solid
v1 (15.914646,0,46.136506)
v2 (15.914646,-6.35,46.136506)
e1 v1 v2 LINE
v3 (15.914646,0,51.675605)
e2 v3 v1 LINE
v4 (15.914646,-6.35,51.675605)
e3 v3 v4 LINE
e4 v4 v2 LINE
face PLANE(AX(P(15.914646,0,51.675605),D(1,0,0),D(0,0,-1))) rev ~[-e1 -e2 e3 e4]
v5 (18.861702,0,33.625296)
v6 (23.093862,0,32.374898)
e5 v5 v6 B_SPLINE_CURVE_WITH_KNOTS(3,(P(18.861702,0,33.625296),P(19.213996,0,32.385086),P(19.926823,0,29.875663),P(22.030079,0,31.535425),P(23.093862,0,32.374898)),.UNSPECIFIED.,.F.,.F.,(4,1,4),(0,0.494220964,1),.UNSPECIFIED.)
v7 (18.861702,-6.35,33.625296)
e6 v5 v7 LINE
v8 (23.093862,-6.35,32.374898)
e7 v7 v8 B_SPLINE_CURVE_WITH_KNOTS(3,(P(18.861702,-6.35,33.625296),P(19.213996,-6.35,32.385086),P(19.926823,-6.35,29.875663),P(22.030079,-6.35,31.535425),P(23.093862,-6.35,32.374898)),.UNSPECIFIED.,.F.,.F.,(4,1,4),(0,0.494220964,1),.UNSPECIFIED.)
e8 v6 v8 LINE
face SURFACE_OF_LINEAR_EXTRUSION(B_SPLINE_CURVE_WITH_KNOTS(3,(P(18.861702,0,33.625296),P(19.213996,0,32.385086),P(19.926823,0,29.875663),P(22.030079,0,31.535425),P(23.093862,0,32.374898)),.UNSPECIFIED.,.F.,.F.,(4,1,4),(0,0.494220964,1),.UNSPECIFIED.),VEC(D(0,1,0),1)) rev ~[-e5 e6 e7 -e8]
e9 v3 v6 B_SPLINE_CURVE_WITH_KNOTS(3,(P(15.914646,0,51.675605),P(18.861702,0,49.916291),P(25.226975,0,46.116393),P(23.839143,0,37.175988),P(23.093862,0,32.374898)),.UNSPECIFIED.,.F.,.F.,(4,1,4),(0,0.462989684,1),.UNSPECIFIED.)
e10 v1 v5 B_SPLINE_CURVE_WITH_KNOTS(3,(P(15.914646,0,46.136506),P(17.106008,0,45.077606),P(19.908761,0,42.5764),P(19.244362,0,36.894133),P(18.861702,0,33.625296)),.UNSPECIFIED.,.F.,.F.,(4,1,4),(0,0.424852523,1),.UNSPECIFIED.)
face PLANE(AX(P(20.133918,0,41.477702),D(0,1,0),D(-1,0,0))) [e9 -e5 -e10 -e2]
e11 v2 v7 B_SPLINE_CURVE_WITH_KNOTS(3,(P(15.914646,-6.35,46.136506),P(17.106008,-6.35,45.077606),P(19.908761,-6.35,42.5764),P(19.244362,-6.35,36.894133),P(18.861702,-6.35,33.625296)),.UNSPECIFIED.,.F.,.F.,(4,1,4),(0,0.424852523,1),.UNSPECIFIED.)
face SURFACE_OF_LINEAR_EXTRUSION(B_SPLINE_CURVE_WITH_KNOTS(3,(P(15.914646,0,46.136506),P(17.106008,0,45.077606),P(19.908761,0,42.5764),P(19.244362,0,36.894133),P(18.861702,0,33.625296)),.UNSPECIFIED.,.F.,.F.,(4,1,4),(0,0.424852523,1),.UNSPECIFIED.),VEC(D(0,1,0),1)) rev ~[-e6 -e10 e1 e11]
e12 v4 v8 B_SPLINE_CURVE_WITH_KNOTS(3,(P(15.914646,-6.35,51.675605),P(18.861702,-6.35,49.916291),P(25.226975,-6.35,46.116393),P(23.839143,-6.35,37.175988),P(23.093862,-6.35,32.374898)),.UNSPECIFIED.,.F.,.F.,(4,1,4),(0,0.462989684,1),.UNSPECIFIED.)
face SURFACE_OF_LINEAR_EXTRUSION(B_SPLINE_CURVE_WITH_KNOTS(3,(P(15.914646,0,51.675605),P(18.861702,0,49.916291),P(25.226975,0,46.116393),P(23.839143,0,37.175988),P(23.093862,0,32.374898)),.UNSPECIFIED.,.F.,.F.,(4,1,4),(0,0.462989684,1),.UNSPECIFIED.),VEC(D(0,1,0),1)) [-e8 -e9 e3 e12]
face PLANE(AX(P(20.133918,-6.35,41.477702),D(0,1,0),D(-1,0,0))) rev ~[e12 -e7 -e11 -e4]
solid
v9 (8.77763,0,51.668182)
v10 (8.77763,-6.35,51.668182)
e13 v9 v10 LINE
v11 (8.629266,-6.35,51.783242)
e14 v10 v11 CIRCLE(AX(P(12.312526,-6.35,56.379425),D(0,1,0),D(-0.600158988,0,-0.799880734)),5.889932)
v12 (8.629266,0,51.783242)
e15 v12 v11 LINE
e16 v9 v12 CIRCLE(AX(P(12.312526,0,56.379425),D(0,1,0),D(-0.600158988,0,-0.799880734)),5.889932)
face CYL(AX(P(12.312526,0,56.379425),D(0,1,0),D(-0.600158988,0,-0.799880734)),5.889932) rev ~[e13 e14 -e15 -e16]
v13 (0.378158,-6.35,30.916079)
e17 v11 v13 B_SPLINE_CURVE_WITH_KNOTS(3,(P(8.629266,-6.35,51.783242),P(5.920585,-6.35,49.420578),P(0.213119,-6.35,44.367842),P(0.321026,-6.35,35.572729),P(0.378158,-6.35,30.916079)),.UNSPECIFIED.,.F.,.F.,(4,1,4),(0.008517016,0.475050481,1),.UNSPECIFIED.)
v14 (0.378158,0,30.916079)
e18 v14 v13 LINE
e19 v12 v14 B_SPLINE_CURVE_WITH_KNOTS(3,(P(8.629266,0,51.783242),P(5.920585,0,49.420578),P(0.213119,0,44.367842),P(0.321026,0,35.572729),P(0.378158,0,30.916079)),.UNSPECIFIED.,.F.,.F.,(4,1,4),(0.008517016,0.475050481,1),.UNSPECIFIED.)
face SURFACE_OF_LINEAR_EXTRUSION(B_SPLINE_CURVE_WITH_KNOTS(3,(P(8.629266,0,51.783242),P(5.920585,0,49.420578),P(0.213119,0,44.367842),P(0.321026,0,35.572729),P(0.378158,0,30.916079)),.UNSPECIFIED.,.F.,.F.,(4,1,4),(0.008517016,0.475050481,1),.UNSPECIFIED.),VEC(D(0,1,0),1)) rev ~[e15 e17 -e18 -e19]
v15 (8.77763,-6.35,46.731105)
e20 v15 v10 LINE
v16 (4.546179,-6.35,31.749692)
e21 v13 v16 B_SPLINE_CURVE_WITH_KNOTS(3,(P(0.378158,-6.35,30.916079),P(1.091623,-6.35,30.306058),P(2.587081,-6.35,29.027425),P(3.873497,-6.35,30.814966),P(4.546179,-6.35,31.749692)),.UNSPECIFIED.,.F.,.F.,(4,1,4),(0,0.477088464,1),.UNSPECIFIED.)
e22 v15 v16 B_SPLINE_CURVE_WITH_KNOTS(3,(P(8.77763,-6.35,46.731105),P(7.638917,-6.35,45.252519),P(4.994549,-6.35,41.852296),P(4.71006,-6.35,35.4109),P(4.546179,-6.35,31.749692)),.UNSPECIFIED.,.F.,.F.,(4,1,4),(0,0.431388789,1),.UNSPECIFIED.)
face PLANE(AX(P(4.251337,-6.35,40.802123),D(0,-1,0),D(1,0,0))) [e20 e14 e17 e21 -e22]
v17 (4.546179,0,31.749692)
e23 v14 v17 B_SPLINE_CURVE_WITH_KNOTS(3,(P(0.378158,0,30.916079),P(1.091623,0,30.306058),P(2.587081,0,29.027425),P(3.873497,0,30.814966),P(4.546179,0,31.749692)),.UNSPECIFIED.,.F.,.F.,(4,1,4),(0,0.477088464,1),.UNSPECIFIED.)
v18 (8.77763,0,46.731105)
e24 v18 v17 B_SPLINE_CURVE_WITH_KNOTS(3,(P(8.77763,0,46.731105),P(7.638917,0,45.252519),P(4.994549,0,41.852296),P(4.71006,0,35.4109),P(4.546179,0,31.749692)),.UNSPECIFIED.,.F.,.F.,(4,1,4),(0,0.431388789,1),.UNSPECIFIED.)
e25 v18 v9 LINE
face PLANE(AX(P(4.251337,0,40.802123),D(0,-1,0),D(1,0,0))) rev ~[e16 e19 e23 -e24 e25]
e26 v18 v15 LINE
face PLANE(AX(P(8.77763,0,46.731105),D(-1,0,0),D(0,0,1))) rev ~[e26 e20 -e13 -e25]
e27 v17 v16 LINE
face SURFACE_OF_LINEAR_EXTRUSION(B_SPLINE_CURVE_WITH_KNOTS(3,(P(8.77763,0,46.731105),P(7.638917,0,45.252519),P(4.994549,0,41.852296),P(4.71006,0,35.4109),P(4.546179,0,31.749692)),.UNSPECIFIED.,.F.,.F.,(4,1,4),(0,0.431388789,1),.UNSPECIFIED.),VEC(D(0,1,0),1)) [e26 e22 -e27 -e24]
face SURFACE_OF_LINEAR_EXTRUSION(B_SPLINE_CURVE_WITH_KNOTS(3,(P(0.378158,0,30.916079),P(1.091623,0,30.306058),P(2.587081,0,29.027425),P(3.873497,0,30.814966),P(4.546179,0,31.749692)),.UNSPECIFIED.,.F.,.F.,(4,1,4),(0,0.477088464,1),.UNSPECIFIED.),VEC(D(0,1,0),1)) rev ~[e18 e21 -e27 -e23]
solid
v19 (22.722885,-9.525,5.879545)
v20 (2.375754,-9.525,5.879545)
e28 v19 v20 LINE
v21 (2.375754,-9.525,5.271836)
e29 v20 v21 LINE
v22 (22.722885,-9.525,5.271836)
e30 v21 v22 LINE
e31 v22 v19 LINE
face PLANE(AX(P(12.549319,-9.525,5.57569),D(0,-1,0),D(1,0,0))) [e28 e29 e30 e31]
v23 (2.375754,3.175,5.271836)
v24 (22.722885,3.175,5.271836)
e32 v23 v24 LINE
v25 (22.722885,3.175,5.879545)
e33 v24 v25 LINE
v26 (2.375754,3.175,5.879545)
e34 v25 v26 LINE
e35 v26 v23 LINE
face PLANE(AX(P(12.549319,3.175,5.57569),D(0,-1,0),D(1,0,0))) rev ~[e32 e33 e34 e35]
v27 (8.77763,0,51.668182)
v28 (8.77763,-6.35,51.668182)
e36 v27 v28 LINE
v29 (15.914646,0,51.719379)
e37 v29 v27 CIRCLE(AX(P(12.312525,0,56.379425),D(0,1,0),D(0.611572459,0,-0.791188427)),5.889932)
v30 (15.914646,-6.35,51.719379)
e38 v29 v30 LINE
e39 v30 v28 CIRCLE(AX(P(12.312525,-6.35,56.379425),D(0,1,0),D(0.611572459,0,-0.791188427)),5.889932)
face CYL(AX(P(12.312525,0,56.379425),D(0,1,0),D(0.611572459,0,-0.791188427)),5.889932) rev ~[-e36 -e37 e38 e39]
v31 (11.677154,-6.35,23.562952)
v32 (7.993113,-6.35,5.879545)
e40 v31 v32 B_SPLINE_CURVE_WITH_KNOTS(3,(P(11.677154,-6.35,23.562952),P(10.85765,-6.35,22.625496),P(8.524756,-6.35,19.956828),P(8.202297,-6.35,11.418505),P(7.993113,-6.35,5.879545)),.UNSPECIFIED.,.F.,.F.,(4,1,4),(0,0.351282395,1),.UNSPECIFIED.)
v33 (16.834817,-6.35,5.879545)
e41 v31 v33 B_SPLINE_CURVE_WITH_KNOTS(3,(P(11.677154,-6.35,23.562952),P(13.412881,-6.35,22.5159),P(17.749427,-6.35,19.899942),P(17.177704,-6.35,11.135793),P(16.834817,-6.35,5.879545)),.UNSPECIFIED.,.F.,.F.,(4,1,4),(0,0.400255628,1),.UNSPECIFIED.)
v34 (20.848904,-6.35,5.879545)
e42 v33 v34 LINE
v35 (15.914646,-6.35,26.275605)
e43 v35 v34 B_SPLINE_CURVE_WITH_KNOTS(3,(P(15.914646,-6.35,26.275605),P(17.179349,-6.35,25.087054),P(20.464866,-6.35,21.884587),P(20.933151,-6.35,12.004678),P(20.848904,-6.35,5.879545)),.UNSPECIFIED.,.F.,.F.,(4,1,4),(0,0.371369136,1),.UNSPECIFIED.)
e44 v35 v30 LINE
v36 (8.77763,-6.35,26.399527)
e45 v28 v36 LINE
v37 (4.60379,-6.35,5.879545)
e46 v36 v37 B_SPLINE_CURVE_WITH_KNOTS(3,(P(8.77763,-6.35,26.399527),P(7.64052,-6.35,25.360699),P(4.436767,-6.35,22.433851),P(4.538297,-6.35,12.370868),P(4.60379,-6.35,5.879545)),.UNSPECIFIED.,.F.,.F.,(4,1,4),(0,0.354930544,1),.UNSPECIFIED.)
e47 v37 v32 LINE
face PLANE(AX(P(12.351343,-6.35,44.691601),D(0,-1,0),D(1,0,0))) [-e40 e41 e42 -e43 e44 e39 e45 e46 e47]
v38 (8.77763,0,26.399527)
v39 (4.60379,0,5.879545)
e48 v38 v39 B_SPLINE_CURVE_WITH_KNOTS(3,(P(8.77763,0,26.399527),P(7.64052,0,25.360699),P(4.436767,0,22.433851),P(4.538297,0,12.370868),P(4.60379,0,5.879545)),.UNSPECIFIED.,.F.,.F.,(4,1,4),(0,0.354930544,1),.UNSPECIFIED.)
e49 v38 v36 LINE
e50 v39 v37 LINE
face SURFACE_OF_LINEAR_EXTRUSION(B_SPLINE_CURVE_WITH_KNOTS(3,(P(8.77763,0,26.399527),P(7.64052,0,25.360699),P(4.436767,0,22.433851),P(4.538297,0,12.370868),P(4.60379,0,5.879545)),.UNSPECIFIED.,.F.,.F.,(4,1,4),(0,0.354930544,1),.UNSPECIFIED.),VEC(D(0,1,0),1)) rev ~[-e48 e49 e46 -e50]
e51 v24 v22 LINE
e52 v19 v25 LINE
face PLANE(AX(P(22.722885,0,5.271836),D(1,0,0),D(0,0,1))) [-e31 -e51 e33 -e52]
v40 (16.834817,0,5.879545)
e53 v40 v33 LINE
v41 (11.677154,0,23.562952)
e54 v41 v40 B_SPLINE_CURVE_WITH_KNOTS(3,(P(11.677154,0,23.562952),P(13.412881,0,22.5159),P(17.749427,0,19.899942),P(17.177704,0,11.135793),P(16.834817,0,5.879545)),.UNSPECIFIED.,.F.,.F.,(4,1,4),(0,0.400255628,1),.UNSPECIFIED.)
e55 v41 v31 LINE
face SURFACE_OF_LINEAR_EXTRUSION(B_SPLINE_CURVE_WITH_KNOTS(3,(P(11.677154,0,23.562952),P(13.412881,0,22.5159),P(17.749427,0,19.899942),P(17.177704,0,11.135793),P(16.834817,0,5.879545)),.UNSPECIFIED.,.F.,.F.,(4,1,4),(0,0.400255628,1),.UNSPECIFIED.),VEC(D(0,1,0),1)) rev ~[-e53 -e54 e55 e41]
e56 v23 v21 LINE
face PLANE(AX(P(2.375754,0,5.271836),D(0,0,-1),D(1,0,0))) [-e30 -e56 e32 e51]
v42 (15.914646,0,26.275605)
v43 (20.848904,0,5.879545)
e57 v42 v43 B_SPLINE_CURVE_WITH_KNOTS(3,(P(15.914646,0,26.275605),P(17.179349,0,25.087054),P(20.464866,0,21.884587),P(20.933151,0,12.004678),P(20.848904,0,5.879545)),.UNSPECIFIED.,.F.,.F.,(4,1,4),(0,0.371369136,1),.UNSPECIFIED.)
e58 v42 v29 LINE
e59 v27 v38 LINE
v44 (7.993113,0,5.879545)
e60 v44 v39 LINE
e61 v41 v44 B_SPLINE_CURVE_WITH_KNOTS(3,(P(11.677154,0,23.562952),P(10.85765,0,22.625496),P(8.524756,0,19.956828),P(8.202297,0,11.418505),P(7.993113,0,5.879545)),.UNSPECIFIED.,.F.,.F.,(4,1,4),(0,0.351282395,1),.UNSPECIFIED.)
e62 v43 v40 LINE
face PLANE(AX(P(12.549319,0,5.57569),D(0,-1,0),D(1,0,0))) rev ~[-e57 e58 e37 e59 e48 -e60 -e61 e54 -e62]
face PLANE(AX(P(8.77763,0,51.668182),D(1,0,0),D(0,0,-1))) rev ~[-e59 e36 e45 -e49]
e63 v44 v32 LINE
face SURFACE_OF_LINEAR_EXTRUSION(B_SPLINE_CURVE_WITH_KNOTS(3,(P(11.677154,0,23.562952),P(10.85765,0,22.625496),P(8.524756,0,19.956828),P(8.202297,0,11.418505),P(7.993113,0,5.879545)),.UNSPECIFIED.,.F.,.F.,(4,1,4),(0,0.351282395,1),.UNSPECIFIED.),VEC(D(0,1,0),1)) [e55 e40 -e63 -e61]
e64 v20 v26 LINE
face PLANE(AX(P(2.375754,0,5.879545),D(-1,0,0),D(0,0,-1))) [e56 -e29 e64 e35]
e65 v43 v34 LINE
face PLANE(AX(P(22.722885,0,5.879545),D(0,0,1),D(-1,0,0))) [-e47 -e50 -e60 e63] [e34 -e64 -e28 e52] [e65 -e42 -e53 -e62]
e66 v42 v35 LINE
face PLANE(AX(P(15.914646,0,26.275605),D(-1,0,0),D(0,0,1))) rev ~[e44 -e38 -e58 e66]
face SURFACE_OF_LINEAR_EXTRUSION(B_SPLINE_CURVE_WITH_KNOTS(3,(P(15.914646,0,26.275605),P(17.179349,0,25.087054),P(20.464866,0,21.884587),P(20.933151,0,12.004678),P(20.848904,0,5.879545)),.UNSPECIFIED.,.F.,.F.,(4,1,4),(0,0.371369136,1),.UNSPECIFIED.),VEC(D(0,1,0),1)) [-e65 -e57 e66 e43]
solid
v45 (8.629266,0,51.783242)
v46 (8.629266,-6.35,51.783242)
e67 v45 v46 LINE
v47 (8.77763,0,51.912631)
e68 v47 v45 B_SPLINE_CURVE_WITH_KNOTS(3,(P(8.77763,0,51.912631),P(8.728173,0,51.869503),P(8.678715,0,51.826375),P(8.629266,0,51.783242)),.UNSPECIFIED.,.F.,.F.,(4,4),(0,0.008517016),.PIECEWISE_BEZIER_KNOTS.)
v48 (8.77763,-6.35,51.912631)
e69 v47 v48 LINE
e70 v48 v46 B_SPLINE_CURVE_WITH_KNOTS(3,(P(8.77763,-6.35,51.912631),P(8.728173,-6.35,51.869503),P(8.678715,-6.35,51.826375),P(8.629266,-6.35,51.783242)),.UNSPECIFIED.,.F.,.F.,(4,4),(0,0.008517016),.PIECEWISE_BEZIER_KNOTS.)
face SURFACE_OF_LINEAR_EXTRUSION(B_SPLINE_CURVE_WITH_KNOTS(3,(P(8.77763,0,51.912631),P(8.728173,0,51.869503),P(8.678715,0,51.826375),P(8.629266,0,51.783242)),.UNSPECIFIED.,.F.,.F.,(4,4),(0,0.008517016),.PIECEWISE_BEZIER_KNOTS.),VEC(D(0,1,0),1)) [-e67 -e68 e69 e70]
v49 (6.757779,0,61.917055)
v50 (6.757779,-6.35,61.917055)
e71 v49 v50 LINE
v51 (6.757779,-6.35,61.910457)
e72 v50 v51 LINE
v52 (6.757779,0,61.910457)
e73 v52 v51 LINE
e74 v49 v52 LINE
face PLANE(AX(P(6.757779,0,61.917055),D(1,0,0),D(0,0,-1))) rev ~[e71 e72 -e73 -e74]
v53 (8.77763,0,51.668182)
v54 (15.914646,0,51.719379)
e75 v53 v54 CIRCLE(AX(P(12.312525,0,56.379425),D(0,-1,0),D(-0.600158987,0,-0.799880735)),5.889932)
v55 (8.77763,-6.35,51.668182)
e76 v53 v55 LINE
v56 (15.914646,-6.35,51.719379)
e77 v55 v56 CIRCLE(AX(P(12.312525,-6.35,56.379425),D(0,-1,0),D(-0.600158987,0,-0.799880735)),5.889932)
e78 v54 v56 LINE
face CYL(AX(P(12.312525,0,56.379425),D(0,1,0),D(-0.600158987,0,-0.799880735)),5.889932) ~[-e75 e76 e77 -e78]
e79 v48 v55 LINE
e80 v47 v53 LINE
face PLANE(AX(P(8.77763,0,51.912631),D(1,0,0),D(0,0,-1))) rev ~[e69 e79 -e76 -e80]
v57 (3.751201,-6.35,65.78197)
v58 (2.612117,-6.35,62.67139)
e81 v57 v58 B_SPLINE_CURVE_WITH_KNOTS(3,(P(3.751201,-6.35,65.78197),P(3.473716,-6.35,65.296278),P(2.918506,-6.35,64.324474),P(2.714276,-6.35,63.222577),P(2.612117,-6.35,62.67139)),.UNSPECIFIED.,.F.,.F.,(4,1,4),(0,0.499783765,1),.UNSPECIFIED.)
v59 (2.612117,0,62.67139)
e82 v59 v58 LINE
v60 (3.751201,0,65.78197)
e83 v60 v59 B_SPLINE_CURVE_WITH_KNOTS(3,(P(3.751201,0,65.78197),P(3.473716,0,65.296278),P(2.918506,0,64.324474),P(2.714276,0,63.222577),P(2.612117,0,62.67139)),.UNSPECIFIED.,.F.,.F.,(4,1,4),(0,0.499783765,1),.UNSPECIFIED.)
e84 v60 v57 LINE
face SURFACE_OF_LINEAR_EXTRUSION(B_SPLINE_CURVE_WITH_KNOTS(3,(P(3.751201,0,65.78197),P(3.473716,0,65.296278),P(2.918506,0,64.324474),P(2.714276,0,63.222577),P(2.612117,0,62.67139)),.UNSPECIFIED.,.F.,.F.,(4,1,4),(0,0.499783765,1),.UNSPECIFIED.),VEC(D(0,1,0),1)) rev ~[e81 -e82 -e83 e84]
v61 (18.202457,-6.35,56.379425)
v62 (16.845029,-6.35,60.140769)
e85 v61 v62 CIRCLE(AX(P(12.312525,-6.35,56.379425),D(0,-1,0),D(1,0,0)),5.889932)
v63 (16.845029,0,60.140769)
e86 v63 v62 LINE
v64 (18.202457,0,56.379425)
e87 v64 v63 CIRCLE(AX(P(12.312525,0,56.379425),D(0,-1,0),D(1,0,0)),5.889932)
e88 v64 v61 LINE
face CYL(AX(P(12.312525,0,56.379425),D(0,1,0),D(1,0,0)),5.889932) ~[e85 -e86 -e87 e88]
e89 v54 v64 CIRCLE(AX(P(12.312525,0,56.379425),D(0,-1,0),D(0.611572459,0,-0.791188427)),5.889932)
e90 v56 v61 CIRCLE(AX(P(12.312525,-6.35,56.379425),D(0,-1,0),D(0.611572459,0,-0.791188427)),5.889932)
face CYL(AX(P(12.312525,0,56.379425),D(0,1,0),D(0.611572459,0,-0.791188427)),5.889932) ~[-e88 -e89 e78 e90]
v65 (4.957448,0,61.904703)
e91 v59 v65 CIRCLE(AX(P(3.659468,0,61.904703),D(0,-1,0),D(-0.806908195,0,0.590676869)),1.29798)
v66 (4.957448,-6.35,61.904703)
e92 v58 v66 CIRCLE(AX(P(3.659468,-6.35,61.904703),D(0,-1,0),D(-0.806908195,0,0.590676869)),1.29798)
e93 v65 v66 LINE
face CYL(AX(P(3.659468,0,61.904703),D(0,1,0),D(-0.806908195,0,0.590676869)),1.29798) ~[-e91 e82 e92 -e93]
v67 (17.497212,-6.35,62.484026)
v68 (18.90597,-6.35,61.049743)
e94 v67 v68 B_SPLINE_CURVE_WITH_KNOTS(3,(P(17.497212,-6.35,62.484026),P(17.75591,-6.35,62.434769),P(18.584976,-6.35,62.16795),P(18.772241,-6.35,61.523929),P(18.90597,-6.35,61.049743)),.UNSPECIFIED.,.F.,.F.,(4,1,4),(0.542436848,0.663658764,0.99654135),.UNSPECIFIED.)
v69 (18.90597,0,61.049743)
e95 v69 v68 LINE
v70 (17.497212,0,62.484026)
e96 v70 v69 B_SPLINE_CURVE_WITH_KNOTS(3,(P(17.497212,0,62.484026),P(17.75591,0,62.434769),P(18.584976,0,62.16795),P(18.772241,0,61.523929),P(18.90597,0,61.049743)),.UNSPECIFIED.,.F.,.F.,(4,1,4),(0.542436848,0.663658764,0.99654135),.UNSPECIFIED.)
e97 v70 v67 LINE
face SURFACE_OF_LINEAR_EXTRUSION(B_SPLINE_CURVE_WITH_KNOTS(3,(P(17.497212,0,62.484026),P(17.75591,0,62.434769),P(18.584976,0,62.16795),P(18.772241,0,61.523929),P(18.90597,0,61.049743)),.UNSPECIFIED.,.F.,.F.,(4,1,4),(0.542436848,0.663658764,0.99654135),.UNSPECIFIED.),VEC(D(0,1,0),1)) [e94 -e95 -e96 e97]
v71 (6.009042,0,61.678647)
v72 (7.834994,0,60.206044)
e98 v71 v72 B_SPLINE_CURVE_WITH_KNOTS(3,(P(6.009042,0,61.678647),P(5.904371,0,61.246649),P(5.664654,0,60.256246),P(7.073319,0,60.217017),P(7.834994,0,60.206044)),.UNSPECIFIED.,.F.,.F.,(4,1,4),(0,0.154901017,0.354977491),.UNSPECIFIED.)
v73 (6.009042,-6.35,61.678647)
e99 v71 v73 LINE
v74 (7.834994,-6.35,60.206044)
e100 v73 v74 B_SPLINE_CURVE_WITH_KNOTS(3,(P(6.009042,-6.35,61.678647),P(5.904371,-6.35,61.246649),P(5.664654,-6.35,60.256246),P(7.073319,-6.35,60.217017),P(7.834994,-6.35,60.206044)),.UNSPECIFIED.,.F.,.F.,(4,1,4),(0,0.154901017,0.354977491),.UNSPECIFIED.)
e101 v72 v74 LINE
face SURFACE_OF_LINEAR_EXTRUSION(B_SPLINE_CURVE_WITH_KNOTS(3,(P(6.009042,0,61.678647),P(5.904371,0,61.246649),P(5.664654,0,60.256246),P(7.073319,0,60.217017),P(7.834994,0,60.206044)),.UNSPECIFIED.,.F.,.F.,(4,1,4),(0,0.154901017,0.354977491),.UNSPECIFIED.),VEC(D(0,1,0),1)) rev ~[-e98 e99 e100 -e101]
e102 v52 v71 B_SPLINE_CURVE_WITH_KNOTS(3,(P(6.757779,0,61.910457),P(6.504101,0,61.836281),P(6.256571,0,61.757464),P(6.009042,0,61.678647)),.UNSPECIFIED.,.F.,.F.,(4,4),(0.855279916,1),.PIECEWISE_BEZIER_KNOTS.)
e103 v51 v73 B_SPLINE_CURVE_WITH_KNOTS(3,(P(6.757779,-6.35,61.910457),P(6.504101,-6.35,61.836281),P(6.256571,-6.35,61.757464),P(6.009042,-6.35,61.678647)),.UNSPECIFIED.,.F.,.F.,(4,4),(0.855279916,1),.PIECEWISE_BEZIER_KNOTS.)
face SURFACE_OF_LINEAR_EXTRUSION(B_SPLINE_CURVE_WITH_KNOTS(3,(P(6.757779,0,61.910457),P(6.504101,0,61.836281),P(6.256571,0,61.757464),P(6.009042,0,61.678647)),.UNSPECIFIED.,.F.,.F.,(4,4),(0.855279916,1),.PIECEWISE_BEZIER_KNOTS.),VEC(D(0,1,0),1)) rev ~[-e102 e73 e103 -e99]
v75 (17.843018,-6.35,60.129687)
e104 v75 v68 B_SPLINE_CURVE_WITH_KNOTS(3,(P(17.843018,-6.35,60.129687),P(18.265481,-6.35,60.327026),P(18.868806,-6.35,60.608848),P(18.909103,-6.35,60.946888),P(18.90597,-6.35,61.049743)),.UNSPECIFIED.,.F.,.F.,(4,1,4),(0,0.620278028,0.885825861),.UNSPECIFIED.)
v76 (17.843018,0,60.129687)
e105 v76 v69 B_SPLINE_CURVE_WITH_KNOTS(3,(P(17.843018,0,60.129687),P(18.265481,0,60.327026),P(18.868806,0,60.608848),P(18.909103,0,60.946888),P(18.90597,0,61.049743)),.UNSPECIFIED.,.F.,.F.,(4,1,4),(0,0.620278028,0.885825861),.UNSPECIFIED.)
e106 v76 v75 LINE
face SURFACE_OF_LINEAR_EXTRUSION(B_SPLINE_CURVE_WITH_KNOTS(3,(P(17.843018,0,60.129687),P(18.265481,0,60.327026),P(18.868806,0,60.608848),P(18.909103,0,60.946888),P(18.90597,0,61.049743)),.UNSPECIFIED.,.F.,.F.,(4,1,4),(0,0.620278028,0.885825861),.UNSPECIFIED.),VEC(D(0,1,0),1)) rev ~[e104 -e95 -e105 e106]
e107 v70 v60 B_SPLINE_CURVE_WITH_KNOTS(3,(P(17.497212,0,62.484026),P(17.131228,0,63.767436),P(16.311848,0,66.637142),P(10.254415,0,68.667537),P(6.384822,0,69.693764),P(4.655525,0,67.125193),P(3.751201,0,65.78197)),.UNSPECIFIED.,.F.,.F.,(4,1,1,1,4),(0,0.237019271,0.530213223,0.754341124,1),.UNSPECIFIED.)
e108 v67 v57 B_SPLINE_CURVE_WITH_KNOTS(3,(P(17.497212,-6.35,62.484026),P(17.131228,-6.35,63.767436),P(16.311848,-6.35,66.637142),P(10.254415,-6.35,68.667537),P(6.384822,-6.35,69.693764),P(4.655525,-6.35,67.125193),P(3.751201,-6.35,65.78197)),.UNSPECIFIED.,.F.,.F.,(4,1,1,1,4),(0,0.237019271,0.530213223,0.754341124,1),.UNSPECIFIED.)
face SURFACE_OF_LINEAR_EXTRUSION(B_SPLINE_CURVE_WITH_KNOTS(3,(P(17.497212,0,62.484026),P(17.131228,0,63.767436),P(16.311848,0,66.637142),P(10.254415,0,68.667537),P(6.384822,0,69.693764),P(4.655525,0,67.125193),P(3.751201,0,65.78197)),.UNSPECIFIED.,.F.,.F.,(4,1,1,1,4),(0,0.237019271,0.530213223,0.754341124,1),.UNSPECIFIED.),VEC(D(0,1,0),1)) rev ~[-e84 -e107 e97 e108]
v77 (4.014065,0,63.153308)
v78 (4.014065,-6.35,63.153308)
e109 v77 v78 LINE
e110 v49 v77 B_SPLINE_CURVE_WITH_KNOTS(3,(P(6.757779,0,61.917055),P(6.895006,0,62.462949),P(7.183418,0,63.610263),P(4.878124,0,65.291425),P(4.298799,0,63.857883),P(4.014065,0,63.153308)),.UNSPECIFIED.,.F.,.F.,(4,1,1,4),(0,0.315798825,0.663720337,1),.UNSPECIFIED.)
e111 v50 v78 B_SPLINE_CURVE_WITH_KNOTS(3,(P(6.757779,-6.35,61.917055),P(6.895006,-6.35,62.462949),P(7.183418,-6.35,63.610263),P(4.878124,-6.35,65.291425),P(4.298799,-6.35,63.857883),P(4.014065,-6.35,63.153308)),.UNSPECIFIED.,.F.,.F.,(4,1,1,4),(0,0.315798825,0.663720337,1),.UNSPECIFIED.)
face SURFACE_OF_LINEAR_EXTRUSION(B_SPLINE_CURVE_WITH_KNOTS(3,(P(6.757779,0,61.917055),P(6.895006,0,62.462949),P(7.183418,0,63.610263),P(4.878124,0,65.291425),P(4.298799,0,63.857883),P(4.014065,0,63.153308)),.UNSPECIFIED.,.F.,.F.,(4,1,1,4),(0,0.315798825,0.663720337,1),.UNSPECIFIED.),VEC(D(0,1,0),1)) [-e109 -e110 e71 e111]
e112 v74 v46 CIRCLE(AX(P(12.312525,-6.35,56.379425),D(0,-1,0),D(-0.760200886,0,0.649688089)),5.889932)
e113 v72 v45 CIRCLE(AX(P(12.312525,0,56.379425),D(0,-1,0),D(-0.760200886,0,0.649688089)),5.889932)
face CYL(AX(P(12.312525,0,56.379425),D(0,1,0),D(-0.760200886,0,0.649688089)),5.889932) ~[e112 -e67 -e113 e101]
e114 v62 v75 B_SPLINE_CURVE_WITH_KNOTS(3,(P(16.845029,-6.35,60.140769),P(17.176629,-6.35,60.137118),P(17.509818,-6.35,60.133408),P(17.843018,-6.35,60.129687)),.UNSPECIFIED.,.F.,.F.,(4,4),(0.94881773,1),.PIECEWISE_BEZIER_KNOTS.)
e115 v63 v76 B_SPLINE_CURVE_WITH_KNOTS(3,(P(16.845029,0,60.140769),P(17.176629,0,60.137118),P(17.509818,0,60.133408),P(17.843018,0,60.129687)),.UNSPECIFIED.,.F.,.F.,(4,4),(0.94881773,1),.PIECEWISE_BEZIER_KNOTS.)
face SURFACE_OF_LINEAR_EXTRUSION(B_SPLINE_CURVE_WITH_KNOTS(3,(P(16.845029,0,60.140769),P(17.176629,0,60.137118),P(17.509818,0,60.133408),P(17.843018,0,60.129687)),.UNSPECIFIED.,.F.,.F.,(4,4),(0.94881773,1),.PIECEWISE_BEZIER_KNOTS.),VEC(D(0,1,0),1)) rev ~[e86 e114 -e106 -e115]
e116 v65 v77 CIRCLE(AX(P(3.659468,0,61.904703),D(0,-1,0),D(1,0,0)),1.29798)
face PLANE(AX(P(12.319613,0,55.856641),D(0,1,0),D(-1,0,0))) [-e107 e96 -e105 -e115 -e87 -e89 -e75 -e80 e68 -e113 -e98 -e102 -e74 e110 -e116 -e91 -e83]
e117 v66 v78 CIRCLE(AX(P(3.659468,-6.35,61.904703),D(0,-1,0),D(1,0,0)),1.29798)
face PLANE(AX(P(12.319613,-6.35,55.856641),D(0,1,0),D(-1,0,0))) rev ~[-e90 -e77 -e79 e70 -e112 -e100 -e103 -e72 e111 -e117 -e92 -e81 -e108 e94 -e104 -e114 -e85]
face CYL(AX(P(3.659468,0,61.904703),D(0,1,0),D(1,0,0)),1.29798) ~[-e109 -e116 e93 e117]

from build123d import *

# Parameters (mm, degrees)
F1_DEPTH      = 6.35
F2_DEPTH      = 6.35
F3_DEPTH      = 6.35
F4_DEPTH      = 9.525
F4_DEPTH_BACK = 3.175


with BuildPart() as f1:
    # F0 (on Front) → F1 (new body)
    with BuildSketch(Plane.XZ):
        with BuildLine():
            add(Edge.make_bspline(
                [(12.5273920316, 62.2654363113), (11.0665005488, 62.3360602112), (8.8442124425, 62.44349232), (7.2714353386, 62.060651673), (6.7577791888, 61.9104570378)],
                knots=[0, 0, 0, 0, 0.5622453459, 0.8552799162, 0.8552799162, 0.8552799162, 0.8552799162], degree=3))
            add(Edge.make_bspline(
                [(12.5273920316, 62.2654363113), (14.4334982096, 62.4849367023), (16.3396043875, 62.7044370934), (17.4972117841, 62.4840260477)],
                knots=[0, 0, 0, 0, 0.5424368479, 0.5424368479, 0.5424368479, 0.5424368479], degree=3))
            add(Edge.make_bspline(
                [(17.4972117841, 62.4840260477), (17.131228304, 63.7674361043), (16.3118475747, 66.6371417254), (10.2544145873, 68.6675374002), (6.3848215947, 69.6937644477), (4.6555253466, 67.1251928844), (3.7512006872, 65.7819702002)],
                knots=[0, 0, 0, 0, 0.2370192711, 0.5302132229, 0.7543411243, 1, 1, 1, 1], degree=3))
            add(Edge.make_bspline(
                [(3.7512006872, 65.7819702002), (3.47371571, 65.2962780712), (2.9185056438, 64.3244735364), (2.7142760844, 63.2225765904), (2.612117143, 62.6713898485)],
                knots=[0, 0, 0, 0, 0.4997837648, 1, 1, 1, 1], degree=3))
            ThreePointArc((2.612117143, 62.6713898485), (3.2375221524, 63.1321859018), (4.0140646781, 63.1533077901))
            add(Edge.make_bspline(
                [(6.7577791888, 61.9170552341), (6.8950059127, 62.4629485379), (7.1834179024, 63.6102627739), (4.8781235577, 65.2914251793), (4.2987985192, 63.8578828964), (4.0140646781, 63.1533077901)],
                knots=[0, 0, 0, 0, 0.315798825, 0.6637203371, 1, 1, 1, 1], degree=3))
            Line((6.7577791888, 61.9170552341), (6.7577791888, 61.9104570378))
        make_face()
        with BuildLine():
            add(Edge.make_bspline(
                [(6.009041597, 61.6786472892), (5.904370804, 61.2466490429), (5.6646535589, 60.2562457923), (7.0733189345, 60.2170169151), (7.8349941244, 60.2060435593)],
                knots=[0, 0, 0, 0, 0.1549010167, 0.354977491, 0.354977491, 0.354977491, 0.354977491], degree=3))
            ThreePointArc((7.8349941244, 60.2060435593), (9.9454909566, 61.7727954048), (12.5273920316, 62.2654363113))
            add(Edge.make_bspline(
                [(12.5273920316, 62.2654363113), (11.0665005488, 62.3360602112), (8.8442124425, 62.44349232), (7.2714353386, 62.060651673), (6.7577791888, 61.9104570378)],
                knots=[0, 0, 0, 0, 0.5622453459, 0.8552799162, 0.8552799162, 0.8552799162, 0.8552799162], degree=3))
            add(Edge.make_bspline(
                [(6.7577791888, 61.9104570378), (6.5041014027, 61.8362808743), (6.2565714999, 61.7574640817), (6.009041597, 61.6786472892)],
                knots=[0.8552799162, 0.8552799162, 0.8552799162, 0.8552799162, 1, 1, 1, 1], degree=3))
        make_face()
        with BuildLine():
            ThreePointArc((4.9574484228, 61.9047028959), (4.6950868279, 62.6871648872), (4.0140646781, 63.1533077901))
            ThreePointArc((4.0140646781, 63.1533077901), (3.2375221524, 63.1321859018), (2.612117143, 62.6713898485))
            ThreePointArc((2.612117143, 62.6713898485), (3.2561617787, 60.6709699735), (4.9574484228, 61.9047028959))
        make_face()
        with BuildLine():
            ThreePointArc((12.5273920316, 62.2654363113), (9.9454909566, 61.7727954048), (7.8349941244, 60.2060435593))
            add(Edge.make_bspline(
                [(7.8349941244, 60.2060435593), (8.8327434634, 60.1916691139), (10.9678914012, 60.2024010817), (14.6956770928, 60.1644330724), (16.8450292831, 60.1407686277)],
                knots=[0.354977491, 0.354977491, 0.354977491, 0.354977491, 0.6170658099, 0.9488177296, 0.9488177296, 0.9488177296, 0.9488177296], degree=3))
            ThreePointArc((16.8450292831, 60.1407686277), (14.913089748, 61.6641541534), (12.5273920316, 62.2654363113))
        make_face()
        with BuildLine():
            add(Edge.make_bspline(
                [(12.5273920316, 62.2654363113), (14.4334982096, 62.4849367023), (16.3396043875, 62.7044370934), (17.4972117841, 62.4840260477)],
                knots=[0, 0, 0, 0, 0.5424368479, 0.5424368479, 0.5424368479, 0.5424368479], degree=3))
            ThreePointArc((12.5273920316, 62.2654363113), (14.913089748, 61.6641541534), (16.8450292831, 60.1407686277))
            add(Edge.make_bspline(
                [(16.8450292831, 60.1407686277), (17.1766286456, 60.1371177069), (17.5098181067, 60.1334083898), (17.8430177321, 60.1296874803)],
                knots=[0.9488177296, 0.9488177296, 0.9488177296, 0.9488177296, 1, 1, 1, 1], degree=3))
            add(Edge.make_bspline(
                [(17.8430177321, 60.1296874803), (18.2654810629, 60.3270261803), (18.8688055835, 60.6088477442), (18.9091028872, 60.946887792), (18.9059697958, 61.0497425555)],
                knots=[0, 0, 0, 0, 0.6202780275, 0.8858258605, 0.8858258605, 0.8858258605, 0.8858258605], degree=3))
            add(Edge.make_bspline(
                [(17.4972117841, 62.4840260477), (17.7559098923, 62.4347693474), (18.5849756129, 62.1679500619), (18.7722409141, 61.5239286331), (18.9059697958, 61.0497425555)],
                knots=[0.5424368479, 0.5424368479, 0.5424368479, 0.5424368479, 0.6636587637, 0.9965413503, 0.9965413503, 0.9965413503, 0.9965413503], degree=3))
        make_face()
    extrude(amount=F1_DEPTH)

    # F0 (on Front) → F2 (join)
    with BuildSketch(Plane.XZ):
        with BuildLine():
            add(Edge.make_bspline(
                [(8.7776299887, 51.9126306062), (8.7281727167, 51.8695028511), (8.6787154448, 51.826375096), (8.6292658664, 51.7832423898)],
                knots=[0, 0, 0, 0, 0.0085170164, 0.0085170164, 0.0085170164, 0.0085170164], degree=3))
            Line((8.7776299887, 51.9126306062), (8.7776299887, 51.6681820829))
            ThreePointArc((8.7776299887, 51.6681820829), (12.3547755841, 50.4896448018), (15.9146455381, 51.7193791815))
            ThreePointArc((15.9146455381, 51.7193791815), (17.5996578641, 53.7837502792), (18.2024572545, 56.3794250398))
            ThreePointArc((18.2024572545, 56.3794250398), (17.8527165632, 58.3788197159), (16.8450292831, 60.1407686277))
            add(Edge.make_bspline(
                [(7.8349941244, 60.2060435593), (8.8327434634, 60.1916691139), (10.9678914012, 60.2024010817), (14.6956770928, 60.1644330724), (16.8450292831, 60.1407686277)],
                knots=[0.354977491, 0.354977491, 0.354977491, 0.354977491, 0.6170658099, 0.9488177296, 0.9488177296, 0.9488177296, 0.9488177296], degree=3))
            ThreePointArc((7.8349941244, 60.2060435593), (6.4486085126, 55.8264565617), (8.6292658664, 51.7832423898))
        make_face()
    extrude(amount=F2_DEPTH)

    # F0 (on Front) → F2, piece 2 (join)
    with BuildSketch(Plane.XZ):
        with BuildLine():
            ThreePointArc((8.7776299887, 51.6681820829), (8.7029894298, 51.7251210279), (8.6292658664, 51.7832423898))
            add(Edge.make_bspline(
                [(8.6292658664, 51.7832423898), (5.9205845588, 49.4205780584), (0.213119288, 44.3678417914), (0.3210256376, 35.5727294417), (0.3781576179, 30.9160786726)],
                knots=[0.0085170164, 0.0085170164, 0.0085170164, 0.0085170164, 0.4750504809, 1, 1, 1, 1], degree=3))
            add(Edge.make_bspline(
                [(0.3781576179, 30.9160786726), (1.0916232819, 30.3060576849), (2.5870810812, 29.0274248234), (3.873497365, 30.8149660675), (4.5461792801, 31.7496920055)],
                knots=[0, 0, 0, 0, 0.4770884638, 1, 1, 1, 1], degree=3))
            add(Edge.make_bspline(
                [(8.7776299887, 46.7311051809), (7.6389169711, 45.2525194805), (4.9945493676, 41.8522960551), (4.7100603031, 35.4108999093), (4.5461792801, 31.7496920055)],
                knots=[0, 0, 0, 0, 0.4313887892, 1, 1, 1, 1], degree=3))
            Line((8.7776299887, 46.7311051809), (8.7776299887, 51.6681820829))
        make_face()
    extrude(amount=F2_DEPTH)


with BuildPart() as f2:
    # F0 (on Front) → F2, piece 3 (new body)
    with BuildSketch(Plane.XZ):
        with BuildLine():
            add(Edge.make_bspline(
                [(15.9146455381, 51.6756046175), (18.8617016243, 49.9162909289), (25.2269753875, 46.1163926795), (23.8391426655, 37.1759878698), (23.0938621765, 32.3748982551)],
                knots=[0, 0, 0, 0, 0.4629896837, 1, 1, 1, 1], degree=3))
            Line((15.9146455381, 51.6756046175), (15.9146455381, 46.1365057656))
            add(Edge.make_bspline(
                [(15.9146455381, 46.1365057656), (17.1060076807, 45.0776061709), (19.9087614247, 42.5764001113), (19.2443616369, 36.8941326773), (18.8617016243, 33.6252957532)],
                knots=[0, 0, 0, 0, 0.4248525231, 1, 1, 1, 1], degree=3))
            add(Edge.make_bspline(
                [(18.8617016243, 33.6252957532), (19.2139959374, 32.3850863204), (19.9268234755, 29.8756633638), (22.0300794151, 31.5354254083), (23.0938621765, 32.3748982551)],
                knots=[0, 0, 0, 0, 0.4942209641, 1, 1, 1, 1], degree=3))
        make_face()
    extrude(amount=F2_DEPTH)


with BuildPart() as f3:
    # F0 (on Front) → F3 (new body)
    with BuildSketch(Plane.XZ):
        with BuildLine():
            ThreePointArc((15.9146455381, 51.7193791815), (12.3547755841, 50.4896448018), (8.7776299887, 51.6681820829))
            Line((8.7776299887, 51.6681820829), (8.7776299887, 46.7311051809))
            Line((8.7776299887, 46.7311051809), (8.7776299887, 37.7898737788))
            Line((8.7776299887, 37.7898737788), (15.9146455381, 37.7898737788))
            Line((15.9146455381, 37.7898737788), (15.9146455381, 46.1365057656))
            Line((15.9146455381, 46.1365057656), (15.9146455381, 51.6756046175))
            Line((15.9146455381, 51.6756046175), (15.9146455381, 51.7193791815))
        make_face()
        with BuildLine():
            Line((15.9146455381, 37.7898737788), (8.7776299887, 37.7898737788))
            Line((8.7776299887, 37.7898737788), (8.7776299887, 26.3995268025))
            add(Edge.make_bspline(
                [(8.7776299887, 26.3995268025), (7.6405202506, 25.3606990583), (4.4367674116, 22.4338510832), (4.5382966864, 12.3708677415), (4.6037901204, 5.879544552)],
                knots=[0, 0, 0, 0, 0.354930544, 1, 1, 1, 1], degree=3))
            Line((4.6037901204, 5.879544552), (7.9931128837, 5.879544552))
            add(Edge.make_bspline(
                [(11.6771539847, 23.5629523376), (10.8576495842, 22.6254961081), (8.5247561277, 19.9568277005), (8.2022974833, 11.4185048822), (7.9931128837, 5.879544552)],
                knots=[0, 0, 0, 0, 0.3512823949, 1, 1, 1, 1], degree=3))
            add(Edge.make_bspline(
                [(11.6771539847, 23.5629523376), (13.4128809525, 22.5159003213), (17.7494270196, 19.8999420584), (17.1777042751, 11.1357933928), (16.8348167765, 5.879544552)],
                knots=[0, 0, 0, 0, 0.4002556276, 1, 1, 1, 1], degree=3))
            Line((16.8348167765, 5.879544552), (20.848903805, 5.879544552))
            add(Edge.make_bspline(
                [(15.9146455381, 26.2756046175), (17.179349206, 25.0870539626), (20.4648655806, 21.8845867621), (20.9331510716, 12.0046778157), (20.848903805, 5.879544552)],
                knots=[0, 0, 0, 0, 0.3713691356, 1, 1, 1, 1], degree=3))
            Line((15.9146455381, 26.2756046175), (15.9146455381, 37.7898737788))
        make_face()
    extrude(amount=F3_DEPTH)

    # F0 (on Front) → F4 (join, two sides)
    with BuildSketch(Plane.XZ) as f4_sk:
        Polygon((7.9931128837, 5.879544552), (4.6037901204, 5.879544552), (2.3757535964, 5.879544552), (2.3757535964, 5.2718357183), (22.7228850126, 5.2718357183), (22.7228850126, 5.879544552), (20.848903805, 5.879544552), (16.8348167765, 5.879544552), (15.2939865366, 5.879544552), align=None)
    extrude(amount=F4_DEPTH)
    extrude(f4_sk.sketch, amount=-F4_DEPTH_BACK)


solid = Compound([f1.part, f2.part, f3.part])
